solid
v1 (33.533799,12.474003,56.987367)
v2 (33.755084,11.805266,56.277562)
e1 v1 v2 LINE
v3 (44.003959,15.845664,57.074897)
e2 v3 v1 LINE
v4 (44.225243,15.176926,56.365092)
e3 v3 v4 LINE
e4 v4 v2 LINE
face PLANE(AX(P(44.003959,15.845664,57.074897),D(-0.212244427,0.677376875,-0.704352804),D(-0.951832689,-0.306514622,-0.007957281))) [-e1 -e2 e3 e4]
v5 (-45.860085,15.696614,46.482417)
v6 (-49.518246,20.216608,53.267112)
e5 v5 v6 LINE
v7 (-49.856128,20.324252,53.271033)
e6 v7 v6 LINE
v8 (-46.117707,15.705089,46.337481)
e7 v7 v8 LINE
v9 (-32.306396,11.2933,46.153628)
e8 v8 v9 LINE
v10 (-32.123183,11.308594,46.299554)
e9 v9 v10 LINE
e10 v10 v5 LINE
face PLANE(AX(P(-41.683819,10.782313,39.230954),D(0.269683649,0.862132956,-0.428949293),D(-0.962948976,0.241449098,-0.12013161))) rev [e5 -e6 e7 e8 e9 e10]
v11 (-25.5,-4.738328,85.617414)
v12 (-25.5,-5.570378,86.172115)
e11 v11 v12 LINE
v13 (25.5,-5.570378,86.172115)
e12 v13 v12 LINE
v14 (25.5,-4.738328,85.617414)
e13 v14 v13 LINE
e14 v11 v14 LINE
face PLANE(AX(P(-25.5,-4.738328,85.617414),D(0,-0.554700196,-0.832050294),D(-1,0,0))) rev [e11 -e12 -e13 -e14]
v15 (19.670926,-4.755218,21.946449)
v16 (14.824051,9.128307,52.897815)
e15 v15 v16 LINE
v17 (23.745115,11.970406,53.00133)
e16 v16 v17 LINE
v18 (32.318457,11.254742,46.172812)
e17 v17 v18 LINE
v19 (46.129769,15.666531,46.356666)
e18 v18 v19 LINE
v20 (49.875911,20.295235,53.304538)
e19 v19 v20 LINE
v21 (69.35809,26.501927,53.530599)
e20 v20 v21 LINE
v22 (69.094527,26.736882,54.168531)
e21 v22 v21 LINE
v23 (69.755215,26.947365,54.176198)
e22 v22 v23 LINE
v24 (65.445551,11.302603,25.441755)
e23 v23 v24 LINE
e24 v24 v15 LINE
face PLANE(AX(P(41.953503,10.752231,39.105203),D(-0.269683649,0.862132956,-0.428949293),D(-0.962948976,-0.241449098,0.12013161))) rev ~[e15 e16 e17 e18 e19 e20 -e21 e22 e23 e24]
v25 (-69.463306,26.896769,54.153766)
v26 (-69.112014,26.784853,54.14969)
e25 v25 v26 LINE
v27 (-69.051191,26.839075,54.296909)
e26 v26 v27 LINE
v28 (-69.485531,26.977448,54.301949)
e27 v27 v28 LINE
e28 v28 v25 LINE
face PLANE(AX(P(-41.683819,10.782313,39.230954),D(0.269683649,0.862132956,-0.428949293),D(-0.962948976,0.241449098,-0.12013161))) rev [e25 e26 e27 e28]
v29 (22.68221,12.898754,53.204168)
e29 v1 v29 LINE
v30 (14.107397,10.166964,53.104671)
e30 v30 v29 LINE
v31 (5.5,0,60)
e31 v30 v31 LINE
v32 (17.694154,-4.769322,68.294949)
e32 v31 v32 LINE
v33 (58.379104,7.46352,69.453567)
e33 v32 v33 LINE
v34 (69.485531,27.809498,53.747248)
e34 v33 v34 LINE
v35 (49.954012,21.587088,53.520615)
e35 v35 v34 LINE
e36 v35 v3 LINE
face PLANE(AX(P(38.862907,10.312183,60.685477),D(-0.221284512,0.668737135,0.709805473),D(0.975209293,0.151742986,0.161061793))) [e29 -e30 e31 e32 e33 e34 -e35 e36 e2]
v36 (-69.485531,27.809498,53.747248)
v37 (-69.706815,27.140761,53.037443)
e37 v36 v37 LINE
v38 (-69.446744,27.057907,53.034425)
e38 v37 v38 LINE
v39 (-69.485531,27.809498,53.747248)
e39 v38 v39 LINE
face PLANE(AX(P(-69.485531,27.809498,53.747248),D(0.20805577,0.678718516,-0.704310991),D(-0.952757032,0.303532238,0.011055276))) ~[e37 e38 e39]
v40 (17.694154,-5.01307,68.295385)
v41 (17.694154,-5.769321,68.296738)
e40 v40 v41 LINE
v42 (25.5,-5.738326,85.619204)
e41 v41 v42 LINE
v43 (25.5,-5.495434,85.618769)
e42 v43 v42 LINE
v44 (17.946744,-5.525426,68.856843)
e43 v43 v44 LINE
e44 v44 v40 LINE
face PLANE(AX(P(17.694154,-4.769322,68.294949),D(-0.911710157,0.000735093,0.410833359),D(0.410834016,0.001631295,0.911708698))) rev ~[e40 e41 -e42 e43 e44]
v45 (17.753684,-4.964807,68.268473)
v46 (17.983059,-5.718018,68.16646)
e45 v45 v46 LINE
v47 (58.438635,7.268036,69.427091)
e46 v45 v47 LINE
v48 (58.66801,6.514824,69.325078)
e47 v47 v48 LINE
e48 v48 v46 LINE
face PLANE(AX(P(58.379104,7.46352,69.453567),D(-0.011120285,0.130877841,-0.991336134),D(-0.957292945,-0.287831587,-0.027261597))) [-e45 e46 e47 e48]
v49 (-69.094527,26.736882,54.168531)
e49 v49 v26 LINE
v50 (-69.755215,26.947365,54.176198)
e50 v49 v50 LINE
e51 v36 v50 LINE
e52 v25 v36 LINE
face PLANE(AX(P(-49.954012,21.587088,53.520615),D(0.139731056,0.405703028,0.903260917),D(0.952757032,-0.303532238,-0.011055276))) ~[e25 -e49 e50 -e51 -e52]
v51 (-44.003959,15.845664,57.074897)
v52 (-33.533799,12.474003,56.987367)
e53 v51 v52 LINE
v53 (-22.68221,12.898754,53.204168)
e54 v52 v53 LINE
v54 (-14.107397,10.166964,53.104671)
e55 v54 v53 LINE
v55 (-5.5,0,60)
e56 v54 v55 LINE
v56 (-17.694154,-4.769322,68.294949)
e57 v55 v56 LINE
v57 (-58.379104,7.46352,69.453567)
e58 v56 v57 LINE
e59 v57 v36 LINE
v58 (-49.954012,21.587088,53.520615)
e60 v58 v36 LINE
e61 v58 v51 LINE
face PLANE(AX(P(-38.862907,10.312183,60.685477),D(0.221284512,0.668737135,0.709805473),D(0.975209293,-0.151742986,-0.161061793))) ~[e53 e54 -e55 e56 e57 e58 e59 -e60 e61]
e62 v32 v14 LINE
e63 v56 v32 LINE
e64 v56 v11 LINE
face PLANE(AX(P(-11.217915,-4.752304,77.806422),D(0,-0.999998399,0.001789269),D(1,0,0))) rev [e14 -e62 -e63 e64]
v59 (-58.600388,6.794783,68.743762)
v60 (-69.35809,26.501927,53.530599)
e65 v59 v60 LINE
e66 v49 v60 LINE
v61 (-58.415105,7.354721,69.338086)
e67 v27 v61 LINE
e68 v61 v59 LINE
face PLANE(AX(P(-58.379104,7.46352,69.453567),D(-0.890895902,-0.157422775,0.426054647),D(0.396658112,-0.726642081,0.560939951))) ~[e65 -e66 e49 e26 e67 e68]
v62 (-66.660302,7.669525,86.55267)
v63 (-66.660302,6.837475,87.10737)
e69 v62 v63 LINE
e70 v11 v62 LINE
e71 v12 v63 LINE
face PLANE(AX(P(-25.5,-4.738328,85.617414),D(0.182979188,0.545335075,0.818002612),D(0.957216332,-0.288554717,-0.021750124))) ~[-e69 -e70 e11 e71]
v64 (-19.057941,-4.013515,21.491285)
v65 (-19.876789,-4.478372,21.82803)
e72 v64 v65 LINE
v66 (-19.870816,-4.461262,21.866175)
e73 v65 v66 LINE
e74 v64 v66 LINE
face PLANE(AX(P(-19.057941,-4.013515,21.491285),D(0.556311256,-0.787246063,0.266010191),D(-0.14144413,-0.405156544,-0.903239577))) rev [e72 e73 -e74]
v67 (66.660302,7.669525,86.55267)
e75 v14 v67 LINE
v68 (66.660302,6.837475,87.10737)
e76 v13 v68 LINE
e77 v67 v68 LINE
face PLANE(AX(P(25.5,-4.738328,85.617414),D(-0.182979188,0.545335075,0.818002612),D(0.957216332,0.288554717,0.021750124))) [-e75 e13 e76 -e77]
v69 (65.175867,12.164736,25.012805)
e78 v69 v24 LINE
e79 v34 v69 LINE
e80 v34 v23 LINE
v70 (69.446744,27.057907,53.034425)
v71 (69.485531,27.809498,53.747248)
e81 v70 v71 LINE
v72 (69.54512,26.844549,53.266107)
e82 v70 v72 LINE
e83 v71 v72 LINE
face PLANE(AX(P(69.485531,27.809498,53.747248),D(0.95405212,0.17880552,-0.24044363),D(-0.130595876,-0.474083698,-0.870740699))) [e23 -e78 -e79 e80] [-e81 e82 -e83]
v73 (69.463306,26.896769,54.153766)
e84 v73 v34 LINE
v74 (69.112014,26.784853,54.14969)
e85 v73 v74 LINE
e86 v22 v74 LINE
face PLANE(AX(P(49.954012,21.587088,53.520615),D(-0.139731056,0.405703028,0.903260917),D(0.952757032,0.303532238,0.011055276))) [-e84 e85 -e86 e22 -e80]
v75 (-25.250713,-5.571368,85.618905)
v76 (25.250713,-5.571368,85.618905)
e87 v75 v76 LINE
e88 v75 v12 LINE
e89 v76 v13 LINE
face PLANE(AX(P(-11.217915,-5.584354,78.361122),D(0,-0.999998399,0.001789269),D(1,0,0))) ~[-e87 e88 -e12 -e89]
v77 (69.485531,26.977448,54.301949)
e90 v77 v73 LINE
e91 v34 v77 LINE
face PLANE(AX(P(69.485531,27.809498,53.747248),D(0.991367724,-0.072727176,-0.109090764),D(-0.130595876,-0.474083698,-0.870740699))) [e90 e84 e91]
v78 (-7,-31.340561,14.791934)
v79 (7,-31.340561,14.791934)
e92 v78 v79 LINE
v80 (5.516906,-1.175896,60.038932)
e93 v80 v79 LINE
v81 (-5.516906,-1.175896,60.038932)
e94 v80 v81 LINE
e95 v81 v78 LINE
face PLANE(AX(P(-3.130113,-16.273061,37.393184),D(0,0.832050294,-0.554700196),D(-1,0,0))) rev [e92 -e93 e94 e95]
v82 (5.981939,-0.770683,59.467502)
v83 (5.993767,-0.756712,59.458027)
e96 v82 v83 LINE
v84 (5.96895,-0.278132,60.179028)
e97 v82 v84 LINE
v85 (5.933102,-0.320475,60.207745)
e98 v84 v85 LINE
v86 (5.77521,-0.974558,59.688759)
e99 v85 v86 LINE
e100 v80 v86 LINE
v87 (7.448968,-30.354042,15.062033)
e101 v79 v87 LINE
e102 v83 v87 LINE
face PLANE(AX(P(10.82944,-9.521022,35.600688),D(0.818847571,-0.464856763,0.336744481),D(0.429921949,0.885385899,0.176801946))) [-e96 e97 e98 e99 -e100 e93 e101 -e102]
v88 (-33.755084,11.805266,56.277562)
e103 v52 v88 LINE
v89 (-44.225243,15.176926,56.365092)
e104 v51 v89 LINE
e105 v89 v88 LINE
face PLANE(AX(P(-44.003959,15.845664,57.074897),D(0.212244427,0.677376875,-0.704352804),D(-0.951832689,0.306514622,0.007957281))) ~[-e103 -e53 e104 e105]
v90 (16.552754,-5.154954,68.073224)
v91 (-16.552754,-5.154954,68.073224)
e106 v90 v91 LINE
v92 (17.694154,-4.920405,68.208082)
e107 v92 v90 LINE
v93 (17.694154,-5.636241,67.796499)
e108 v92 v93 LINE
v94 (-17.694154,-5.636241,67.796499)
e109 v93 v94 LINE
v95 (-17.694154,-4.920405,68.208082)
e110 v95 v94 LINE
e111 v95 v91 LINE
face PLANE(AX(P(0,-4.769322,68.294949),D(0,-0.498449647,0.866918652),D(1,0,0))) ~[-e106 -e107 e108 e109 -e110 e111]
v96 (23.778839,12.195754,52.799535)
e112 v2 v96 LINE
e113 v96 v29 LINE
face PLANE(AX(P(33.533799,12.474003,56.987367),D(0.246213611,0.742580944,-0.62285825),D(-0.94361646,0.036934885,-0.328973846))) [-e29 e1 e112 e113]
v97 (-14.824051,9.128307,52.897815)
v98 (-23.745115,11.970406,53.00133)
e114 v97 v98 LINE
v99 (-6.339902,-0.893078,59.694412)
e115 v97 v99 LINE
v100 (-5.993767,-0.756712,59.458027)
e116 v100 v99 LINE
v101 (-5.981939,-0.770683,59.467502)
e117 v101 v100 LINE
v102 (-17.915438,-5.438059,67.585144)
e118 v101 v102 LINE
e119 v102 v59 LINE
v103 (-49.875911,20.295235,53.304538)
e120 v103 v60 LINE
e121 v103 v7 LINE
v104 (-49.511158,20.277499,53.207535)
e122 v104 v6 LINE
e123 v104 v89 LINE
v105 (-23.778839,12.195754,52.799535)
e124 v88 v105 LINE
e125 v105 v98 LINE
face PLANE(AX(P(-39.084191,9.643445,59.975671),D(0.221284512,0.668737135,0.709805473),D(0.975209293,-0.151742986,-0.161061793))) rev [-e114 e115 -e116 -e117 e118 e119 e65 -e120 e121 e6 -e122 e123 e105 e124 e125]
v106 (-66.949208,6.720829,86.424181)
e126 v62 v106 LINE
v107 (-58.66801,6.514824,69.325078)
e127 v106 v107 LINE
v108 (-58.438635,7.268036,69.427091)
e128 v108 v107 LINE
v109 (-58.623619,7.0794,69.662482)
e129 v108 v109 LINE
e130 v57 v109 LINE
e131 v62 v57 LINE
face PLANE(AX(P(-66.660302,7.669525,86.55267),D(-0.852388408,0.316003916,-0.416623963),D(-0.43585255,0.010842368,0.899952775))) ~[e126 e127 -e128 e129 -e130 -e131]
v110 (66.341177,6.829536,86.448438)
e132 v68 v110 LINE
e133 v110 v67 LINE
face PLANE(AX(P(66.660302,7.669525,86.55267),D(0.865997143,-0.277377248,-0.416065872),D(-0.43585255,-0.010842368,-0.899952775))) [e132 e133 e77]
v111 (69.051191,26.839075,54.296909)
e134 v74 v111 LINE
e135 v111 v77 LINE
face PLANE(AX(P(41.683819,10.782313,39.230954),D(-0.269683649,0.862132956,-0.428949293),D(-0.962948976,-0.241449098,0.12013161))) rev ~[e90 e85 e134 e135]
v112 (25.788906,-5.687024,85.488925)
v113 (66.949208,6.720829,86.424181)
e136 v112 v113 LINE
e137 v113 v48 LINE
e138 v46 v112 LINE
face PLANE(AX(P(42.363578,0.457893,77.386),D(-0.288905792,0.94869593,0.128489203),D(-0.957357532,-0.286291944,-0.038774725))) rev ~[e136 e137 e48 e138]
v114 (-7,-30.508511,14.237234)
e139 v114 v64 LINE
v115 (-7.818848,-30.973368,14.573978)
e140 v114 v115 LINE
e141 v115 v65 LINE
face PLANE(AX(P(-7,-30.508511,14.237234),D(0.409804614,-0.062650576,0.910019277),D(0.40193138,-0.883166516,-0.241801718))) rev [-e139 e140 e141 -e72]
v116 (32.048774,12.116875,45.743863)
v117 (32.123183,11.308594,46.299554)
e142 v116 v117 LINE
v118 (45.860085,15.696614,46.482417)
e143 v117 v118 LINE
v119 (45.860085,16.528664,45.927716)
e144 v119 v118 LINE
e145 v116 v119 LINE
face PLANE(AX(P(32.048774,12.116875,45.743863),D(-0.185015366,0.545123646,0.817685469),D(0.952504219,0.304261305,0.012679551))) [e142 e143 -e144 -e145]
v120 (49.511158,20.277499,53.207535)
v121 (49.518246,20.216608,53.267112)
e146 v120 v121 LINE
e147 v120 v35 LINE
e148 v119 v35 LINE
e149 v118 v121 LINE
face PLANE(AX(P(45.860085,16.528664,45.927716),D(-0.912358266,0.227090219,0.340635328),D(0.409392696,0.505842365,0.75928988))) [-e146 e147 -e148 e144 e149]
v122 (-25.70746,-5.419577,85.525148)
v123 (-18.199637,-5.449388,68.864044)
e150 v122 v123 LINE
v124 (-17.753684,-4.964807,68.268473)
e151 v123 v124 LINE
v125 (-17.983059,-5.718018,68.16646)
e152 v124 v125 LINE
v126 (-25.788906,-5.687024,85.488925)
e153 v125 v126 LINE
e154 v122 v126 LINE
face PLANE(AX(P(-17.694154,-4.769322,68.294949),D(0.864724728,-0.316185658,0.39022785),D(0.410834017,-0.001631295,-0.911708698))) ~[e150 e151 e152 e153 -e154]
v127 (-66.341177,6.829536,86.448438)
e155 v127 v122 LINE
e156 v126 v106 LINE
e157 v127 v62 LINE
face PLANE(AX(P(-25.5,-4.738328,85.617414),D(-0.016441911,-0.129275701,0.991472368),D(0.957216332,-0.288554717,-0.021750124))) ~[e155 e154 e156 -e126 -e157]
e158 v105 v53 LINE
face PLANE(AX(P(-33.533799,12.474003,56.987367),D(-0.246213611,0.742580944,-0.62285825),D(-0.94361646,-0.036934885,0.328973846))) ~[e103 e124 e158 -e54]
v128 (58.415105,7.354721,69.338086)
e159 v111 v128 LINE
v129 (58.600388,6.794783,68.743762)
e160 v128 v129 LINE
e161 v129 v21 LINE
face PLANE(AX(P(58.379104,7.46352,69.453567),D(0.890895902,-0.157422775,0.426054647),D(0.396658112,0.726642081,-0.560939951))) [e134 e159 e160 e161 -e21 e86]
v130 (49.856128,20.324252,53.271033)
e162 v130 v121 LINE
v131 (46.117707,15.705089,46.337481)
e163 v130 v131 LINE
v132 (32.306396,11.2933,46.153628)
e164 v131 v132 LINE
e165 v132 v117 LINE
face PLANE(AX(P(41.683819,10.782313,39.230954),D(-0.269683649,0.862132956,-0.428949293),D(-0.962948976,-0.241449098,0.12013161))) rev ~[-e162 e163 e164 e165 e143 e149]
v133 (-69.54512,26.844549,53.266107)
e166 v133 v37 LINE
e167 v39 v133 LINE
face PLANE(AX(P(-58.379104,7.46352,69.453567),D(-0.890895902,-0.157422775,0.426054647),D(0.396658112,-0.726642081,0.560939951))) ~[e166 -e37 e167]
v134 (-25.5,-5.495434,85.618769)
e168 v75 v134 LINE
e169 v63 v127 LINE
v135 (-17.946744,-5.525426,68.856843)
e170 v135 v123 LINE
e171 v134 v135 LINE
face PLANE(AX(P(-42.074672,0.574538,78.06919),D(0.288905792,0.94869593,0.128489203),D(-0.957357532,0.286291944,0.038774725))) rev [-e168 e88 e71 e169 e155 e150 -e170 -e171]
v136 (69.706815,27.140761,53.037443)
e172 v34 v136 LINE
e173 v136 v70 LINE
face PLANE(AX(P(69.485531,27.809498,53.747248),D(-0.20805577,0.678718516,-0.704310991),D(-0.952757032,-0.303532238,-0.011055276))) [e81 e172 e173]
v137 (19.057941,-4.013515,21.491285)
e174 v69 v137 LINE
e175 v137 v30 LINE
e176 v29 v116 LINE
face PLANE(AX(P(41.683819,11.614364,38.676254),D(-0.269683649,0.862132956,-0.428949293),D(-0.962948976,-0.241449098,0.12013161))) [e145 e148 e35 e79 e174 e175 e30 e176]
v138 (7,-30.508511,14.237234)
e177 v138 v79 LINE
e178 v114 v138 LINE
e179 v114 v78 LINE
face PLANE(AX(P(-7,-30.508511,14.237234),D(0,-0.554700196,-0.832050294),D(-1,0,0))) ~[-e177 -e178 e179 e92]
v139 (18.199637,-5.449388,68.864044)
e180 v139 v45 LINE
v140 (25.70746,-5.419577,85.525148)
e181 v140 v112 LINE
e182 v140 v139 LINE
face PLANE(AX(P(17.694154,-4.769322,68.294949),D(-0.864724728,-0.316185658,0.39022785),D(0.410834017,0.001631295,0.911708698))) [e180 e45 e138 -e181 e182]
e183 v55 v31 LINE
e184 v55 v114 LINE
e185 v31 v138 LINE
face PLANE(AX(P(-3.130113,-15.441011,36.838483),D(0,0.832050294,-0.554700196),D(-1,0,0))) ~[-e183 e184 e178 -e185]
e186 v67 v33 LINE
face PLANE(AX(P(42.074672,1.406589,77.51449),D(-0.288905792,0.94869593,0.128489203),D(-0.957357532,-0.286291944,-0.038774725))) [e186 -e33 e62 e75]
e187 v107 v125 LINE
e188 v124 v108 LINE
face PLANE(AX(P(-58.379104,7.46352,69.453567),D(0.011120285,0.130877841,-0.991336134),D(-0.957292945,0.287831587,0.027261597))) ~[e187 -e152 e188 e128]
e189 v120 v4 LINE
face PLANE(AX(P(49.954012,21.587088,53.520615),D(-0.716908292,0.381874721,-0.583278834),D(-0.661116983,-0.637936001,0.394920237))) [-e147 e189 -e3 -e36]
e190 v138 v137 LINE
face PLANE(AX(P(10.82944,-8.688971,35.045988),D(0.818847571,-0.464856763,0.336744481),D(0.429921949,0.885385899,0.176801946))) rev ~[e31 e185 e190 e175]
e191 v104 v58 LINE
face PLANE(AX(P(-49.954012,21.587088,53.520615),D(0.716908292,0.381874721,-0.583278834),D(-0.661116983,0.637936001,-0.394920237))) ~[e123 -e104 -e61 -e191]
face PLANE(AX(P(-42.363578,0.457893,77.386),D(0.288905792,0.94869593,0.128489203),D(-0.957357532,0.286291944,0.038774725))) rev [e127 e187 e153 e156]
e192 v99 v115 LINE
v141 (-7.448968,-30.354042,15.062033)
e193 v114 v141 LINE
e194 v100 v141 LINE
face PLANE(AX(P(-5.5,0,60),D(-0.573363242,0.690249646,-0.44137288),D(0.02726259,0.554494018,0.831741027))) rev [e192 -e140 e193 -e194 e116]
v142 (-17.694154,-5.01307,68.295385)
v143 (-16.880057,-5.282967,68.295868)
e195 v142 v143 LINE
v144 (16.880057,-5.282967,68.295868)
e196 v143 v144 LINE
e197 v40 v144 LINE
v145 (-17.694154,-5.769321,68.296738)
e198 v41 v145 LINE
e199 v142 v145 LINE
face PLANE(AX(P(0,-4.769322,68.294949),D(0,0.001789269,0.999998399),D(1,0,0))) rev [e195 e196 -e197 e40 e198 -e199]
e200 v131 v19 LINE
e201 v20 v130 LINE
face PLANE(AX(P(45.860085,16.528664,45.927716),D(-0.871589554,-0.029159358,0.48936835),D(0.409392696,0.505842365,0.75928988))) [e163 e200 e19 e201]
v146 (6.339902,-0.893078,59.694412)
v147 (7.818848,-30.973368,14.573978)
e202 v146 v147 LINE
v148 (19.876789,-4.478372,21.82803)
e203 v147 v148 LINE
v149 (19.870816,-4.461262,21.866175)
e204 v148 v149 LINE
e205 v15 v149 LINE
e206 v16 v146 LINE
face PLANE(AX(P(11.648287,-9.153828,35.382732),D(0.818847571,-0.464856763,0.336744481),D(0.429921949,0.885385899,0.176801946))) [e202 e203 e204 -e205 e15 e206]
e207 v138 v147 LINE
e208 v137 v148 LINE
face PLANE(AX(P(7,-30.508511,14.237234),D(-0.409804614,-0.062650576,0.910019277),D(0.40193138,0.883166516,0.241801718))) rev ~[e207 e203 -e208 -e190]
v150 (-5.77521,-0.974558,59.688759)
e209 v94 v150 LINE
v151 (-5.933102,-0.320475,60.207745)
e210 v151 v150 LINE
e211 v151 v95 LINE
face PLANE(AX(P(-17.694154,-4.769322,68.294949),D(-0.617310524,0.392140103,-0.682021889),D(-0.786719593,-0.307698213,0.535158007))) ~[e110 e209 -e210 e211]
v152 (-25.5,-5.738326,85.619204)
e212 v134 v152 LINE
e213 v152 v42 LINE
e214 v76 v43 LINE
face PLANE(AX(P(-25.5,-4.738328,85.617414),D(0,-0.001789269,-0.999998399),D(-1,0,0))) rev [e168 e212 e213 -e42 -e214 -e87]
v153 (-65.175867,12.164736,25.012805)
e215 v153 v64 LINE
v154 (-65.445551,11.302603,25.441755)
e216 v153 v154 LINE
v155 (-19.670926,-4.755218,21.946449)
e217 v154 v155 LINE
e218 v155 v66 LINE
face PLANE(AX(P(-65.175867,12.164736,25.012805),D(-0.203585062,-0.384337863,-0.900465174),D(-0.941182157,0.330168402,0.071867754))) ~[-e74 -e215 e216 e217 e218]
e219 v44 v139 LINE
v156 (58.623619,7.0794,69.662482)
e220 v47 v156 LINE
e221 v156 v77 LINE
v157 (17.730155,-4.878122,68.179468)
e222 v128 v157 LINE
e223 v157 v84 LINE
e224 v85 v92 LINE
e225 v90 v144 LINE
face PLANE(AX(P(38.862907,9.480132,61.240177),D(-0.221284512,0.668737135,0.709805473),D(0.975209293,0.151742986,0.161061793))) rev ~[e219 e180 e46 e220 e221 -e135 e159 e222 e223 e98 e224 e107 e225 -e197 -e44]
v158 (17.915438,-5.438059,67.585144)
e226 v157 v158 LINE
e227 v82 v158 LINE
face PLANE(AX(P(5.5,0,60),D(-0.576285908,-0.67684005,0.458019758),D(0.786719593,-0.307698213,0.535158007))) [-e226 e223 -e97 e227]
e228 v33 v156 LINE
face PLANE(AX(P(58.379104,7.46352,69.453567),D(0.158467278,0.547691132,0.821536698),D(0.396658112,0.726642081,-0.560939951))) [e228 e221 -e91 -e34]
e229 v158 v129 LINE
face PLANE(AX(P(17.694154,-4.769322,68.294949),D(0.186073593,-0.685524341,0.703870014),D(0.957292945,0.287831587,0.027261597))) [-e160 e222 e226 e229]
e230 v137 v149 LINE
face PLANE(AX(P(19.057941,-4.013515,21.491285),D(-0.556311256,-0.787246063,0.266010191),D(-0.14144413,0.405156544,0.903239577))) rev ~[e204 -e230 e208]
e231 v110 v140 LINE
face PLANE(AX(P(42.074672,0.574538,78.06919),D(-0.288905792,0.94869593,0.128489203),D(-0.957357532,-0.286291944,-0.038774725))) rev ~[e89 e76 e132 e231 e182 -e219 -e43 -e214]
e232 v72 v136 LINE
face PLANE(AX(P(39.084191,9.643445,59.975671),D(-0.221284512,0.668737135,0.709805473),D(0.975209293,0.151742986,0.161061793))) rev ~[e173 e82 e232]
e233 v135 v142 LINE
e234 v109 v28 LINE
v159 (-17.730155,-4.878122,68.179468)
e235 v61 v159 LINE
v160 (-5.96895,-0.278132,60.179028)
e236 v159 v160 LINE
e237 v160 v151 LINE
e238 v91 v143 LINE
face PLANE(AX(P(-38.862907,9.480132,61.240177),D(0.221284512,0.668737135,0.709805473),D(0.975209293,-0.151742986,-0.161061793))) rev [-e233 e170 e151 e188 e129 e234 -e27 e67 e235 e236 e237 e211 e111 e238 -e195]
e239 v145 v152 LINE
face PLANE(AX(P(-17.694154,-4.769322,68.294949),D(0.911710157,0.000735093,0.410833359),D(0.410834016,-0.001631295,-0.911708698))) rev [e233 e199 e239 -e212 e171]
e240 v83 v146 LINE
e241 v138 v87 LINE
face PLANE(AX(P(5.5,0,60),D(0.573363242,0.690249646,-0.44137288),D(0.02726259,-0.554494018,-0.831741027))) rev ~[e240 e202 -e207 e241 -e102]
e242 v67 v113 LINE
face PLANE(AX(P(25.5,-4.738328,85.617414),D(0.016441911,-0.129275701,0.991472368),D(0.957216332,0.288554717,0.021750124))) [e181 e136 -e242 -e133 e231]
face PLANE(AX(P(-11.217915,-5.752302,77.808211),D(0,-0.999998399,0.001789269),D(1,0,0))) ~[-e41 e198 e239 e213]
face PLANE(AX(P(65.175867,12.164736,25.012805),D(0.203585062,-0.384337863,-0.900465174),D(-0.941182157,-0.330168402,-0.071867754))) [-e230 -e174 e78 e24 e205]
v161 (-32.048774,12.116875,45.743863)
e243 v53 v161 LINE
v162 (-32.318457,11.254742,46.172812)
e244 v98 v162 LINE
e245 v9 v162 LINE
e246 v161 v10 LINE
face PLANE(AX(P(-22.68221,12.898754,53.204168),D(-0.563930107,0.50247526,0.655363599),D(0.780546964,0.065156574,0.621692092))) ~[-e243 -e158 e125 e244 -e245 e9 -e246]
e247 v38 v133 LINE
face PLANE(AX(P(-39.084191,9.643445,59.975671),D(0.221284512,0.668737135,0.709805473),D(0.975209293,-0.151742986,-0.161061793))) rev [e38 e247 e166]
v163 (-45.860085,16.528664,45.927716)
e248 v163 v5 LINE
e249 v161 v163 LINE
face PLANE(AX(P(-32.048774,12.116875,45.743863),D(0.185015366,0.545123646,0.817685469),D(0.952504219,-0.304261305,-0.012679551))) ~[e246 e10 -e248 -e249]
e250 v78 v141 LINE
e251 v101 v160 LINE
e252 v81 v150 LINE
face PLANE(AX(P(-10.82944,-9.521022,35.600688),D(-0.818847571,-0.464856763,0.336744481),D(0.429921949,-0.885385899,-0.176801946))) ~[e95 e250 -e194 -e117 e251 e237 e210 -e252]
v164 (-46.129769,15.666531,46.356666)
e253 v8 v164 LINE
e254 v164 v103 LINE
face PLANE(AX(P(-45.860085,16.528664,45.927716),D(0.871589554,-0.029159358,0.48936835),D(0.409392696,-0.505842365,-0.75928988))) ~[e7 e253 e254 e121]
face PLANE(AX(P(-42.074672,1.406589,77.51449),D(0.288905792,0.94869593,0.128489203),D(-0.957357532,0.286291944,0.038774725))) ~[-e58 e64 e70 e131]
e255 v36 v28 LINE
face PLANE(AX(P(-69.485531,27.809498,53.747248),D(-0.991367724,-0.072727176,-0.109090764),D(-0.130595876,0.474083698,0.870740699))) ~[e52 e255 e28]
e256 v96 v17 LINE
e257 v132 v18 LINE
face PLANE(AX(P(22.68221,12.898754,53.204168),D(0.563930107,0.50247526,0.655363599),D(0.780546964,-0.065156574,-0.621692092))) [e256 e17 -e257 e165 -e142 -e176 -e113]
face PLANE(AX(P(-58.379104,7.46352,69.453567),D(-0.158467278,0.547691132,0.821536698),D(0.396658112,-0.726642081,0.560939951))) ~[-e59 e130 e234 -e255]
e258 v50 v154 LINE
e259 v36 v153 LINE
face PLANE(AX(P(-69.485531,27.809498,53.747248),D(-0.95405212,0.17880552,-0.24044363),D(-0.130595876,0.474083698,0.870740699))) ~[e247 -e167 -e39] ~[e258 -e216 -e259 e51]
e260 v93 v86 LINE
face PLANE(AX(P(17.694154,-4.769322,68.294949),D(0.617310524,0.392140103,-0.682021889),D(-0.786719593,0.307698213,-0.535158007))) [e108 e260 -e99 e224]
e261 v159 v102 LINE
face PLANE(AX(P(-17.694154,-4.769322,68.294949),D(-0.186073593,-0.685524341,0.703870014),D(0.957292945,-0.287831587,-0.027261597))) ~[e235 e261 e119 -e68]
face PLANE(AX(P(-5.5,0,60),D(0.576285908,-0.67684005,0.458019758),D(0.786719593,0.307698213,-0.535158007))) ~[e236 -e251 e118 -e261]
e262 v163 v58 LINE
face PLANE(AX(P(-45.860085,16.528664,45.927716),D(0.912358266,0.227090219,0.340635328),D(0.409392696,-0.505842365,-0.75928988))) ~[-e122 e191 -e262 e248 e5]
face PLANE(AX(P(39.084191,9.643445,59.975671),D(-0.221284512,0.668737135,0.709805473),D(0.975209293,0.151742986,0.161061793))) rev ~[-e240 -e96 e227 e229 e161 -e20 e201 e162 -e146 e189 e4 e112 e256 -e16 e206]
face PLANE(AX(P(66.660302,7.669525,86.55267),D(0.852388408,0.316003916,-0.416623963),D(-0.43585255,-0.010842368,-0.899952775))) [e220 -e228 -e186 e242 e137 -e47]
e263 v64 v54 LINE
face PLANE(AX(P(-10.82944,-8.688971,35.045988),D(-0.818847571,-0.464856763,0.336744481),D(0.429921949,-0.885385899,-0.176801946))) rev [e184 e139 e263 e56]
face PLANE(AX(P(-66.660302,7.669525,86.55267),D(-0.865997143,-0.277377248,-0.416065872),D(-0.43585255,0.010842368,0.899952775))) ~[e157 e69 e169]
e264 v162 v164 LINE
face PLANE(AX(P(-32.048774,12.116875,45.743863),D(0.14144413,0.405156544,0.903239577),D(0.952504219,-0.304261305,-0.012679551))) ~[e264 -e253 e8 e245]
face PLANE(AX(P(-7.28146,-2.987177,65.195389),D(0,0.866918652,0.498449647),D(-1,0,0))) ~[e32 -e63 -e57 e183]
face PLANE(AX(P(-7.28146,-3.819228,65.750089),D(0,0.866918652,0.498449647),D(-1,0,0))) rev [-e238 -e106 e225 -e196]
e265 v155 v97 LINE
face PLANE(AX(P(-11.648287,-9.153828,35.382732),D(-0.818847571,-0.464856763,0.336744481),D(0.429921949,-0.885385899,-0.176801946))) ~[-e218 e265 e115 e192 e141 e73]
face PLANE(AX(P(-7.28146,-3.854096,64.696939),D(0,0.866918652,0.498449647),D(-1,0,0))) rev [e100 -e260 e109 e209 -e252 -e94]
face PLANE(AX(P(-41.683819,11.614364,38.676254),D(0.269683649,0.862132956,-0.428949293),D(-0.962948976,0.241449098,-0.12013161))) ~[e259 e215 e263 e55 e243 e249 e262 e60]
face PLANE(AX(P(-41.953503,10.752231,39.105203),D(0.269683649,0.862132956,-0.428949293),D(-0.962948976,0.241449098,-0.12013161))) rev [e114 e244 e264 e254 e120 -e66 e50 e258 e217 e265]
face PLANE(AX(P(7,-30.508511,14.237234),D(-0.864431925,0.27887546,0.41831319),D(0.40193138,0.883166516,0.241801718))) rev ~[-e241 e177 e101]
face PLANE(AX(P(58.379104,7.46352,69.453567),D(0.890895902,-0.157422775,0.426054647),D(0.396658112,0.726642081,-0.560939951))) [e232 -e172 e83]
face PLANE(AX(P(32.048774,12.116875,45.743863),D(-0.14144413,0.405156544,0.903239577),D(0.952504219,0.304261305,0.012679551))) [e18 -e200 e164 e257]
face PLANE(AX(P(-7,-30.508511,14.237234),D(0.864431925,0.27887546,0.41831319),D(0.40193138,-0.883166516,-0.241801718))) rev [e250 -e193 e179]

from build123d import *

# Parameters (mm, degrees)
F17_DEPTH = 1
F18_DEPTH = 1
F19_DEPTH = 1
F20_DEPTH = 1
F21_DEPTH = 1
F22_DEPTH = 1
F23_DEPTH = 1
F24_DEPTH = 1


with BuildPart() as f17:
    # F4 (on face) → F17 (new body)
    with BuildSketch(Plane(origin=(0, -27.6923076923, 18.4615384615), x_dir=(-1, 0, 0), z_dir=(0, 0.8320502943, -0.5547001962))):
        Polygon((0, -5.0769823397), (0, 49.9230176603), (-5.5, 49.9230176603), (-7, -5.0769823397), align=None)
    extrude(amount=-F17_DEPTH)



with BuildPart() as f18:
    # F6 (on face) → F18 (new body)
    with BuildSketch(Plane(origin=(20.2323563967, -11.4858345379, 8.3203939199), x_dir=(0.4299219493, 0.8853858987, 0.1768019455), z_dir=(0.8188475708, -0.4648567634, 0.3367444808))):
        Polygon((12.9726874522, 53.3990429211), (-21.4851809627, 10.5049255587), (8.4396185165, 12.6277482381), (24.455774925, 43.748203471), align=None)
    extrude(amount=F18_DEPTH)


with BuildPart() as f19:
    # F8 (on face) → F19 (new body)
    with BuildSketch(Plane(origin=(4.8053501819, -15.3618907739, 7.6432203914), x_dir=(-0.9629489756, -0.2414490977, 0.1201316097), z_dir=(-0.2696836488, 0.8621329558, -0.4289492931))):
        Polygon((-14.8009827937, 17.4534178176), (-9.6599579922, 52.0737855798), (-18.5647011331, 53.379752499), (-28.2916584396, 46.352213701), (-42.6343822268, 48.4820668331), (-46.8858296731, 57.5333205922), (-67.1688557163, 60.5080230193), (-62.6933705008, 27.8129158611), align=None)
    extrude(amount=-F19_DEPTH)


with BuildPart() as f20:
    # F10 (on 3pt) → F20 (new body)
    with BuildSketch(Plane(origin=(-9.1548198434, 27.6665002624, 29.3655492724), x_dir=(0.9752092929, 0.1517429862, 0.161061793), z_dir=(-0.2212845115, 0.6687371352, 0.7098054726))):
        Polygon((32.6463562181, -27.0957188494), (23.8535633809, -29.0158214828), (15.0273586911, -41.144222481), (27.5314988539, -50.3037245848), (69.2506974563, -42.194565074), (80.6394600631, -16.615353079), (60.611431934, -20.9889201884), (54.5101233323, -27.6051149669), (43.7738027725, -29.9991535705), align=None)
    extrude(amount=-F20_DEPTH)


with BuildPart() as f21:
    # F12 (on 3pt) → F21 (new body)
    with BuildSketch(Plane(origin=(0, 25.9269177768, 14.9071230511), x_dir=(-1, 0, 0), z_dir=(0, 0.866918652, 0.4984496473))):
        Polygon((-5.5, 52.0151191187), (0, 52.0151191187), (0, 61.5834322338), (-17.6941536866, 61.5834322338), align=None)
    extrude(amount=-F21_DEPTH)


with BuildPart() as f22:
    # F14 (on face) → F22 (new body)
    with BuildSketch(Plane(origin=(0, -4.8915048648, 0.0087522318), x_dir=(1, 0, 0), z_dir=(0, -0.9999983993, 0.001789269))):
        Polygon((0, 85.6087991728), (0, 68.2863061845), (17.6941536866, 68.2863061845), (25.5, 85.6087991728), align=None)
    extrude(amount=F22_DEPTH)


with BuildPart() as f23:
    # F16 (on 3pt) → F23 (new body)
    with BuildSketch(Plane(origin=(0.2488682272, -0.8172223653, -0.1106827247), x_dir=(-0.9573575318, -0.2862919438, -0.0387747249), z_dir=(-0.2889057916, 0.9486959304, 0.1284892032))):
        Polygon((-60.7194634198, 67.8234958605), (-18.2223306139, 68.3171589865), (-26.3758637032, 85.4787410279), (-69.3695216955, 84.7402476712), align=None)
    extrude(amount=-F23_DEPTH)


with BuildPart() as f17_1:
    add(f17.part)

    add(f18.part)  # F24 merges F18

    add(f19.part)  # F24 merges F19

    add(f20.part)  # F24 merges F20

    add(f21.part)  # F24 merges F21

    add(f22.part)  # F24 merges F22

    add(f23.part)  # F24 merges F23
    # F4 (on face) + F6 (on face) + F8 (on face) + F10 (on 3pt) + F12 (on 3pt) + F14 (on face) + F16 (on 3pt) → F24 (join)
    with BuildSketch(Plane(origin=(0, -27.6923076923, 18.4615384615), x_dir=(-1, 0, 0), z_dir=(0, 0.8320502943, -0.5547001962))):
        Polygon((0, -5.0769823397), (0, 49.9230176603), (-5.5, 49.9230176603), (-7, -5.0769823397), align=None)
    with BuildSketch(Plane(origin=(20.2323563967, -11.4858345379, 8.3203939199), x_dir=(0.4299219493, 0.8853858987, 0.1768019455), z_dir=(0.8188475708, -0.4648567634, 0.3367444808))):
        Polygon((12.9726874522, 53.3990429211), (-21.4851809627, 10.5049255587), (8.4396185165, 12.6277482381), (24.455774925, 43.748203471), align=None)
    with BuildSketch(Plane(origin=(4.8053501819, -15.3618907739, 7.6432203914), x_dir=(-0.9629489756, -0.2414490977, 0.1201316097), z_dir=(-0.2696836488, 0.8621329558, -0.4289492931))):
        Polygon((-14.8009827937, 17.4534178176), (-9.6599579922, 52.0737855798), (-18.5647011331, 53.379752499), (-28.2916584396, 46.352213701), (-42.6343822268, 48.4820668331), (-46.8858296731, 57.5333205922), (-67.1688557163, 60.5080230193), (-62.6933705008, 27.8129158611), align=None)
    with BuildSketch(Plane(origin=(-9.1548198434, 27.6665002624, 29.3655492724), x_dir=(0.9752092929, 0.1517429862, 0.161061793), z_dir=(-0.2212845115, 0.6687371352, 0.7098054726))):
        Polygon((32.6463562181, -27.0957188494), (23.8535633809, -29.0158214828), (15.0273586911, -41.144222481), (27.5314988539, -50.3037245848), (69.2506974563, -42.194565074), (80.6394600631, -16.615353079), (60.611431934, -20.9889201884), (54.5101233323, -27.6051149669), (43.7738027725, -29.9991535705), align=None)
    with BuildSketch(Plane(origin=(0, 25.9269177768, 14.9071230511), x_dir=(-1, 0, 0), z_dir=(0, 0.866918652, 0.4984496473))):
        Polygon((-5.5, 52.0151191187), (0, 52.0151191187), (0, 61.5834322338), (-17.6941536866, 61.5834322338), align=None)
    with BuildSketch(Plane(origin=(0, -4.8915048648, 0.0087522318), x_dir=(1, 0, 0), z_dir=(0, -0.9999983993, 0.001789269))):
        Polygon((0, 85.6087991728), (0, 68.2863061845), (17.6941536866, 68.2863061845), (25.5, 85.6087991728), align=None)
    with BuildSketch(Plane(origin=(0.2488682272, -0.8172223653, -0.1106827247), x_dir=(-0.9573575318, -0.2862919438, -0.0387747249), z_dir=(-0.2889057916, 0.9486959304, 0.1284892032))):
        Polygon((-60.7194634198, 67.8234958605), (-18.2223306139, 68.3171589865), (-26.3758637032, 85.4787410279), (-69.3695216955, 84.7402476712), align=None)
    extrude(amount=-F24_DEPTH, dir=(0, 0.8320502943, -0.5547001962))

    # F25: F17 across plane


with BuildPart() as f17_2:
    add(f17_1.part)
    add(f17_1.part.mirror(Plane.YZ))


solid = f17_2.part
